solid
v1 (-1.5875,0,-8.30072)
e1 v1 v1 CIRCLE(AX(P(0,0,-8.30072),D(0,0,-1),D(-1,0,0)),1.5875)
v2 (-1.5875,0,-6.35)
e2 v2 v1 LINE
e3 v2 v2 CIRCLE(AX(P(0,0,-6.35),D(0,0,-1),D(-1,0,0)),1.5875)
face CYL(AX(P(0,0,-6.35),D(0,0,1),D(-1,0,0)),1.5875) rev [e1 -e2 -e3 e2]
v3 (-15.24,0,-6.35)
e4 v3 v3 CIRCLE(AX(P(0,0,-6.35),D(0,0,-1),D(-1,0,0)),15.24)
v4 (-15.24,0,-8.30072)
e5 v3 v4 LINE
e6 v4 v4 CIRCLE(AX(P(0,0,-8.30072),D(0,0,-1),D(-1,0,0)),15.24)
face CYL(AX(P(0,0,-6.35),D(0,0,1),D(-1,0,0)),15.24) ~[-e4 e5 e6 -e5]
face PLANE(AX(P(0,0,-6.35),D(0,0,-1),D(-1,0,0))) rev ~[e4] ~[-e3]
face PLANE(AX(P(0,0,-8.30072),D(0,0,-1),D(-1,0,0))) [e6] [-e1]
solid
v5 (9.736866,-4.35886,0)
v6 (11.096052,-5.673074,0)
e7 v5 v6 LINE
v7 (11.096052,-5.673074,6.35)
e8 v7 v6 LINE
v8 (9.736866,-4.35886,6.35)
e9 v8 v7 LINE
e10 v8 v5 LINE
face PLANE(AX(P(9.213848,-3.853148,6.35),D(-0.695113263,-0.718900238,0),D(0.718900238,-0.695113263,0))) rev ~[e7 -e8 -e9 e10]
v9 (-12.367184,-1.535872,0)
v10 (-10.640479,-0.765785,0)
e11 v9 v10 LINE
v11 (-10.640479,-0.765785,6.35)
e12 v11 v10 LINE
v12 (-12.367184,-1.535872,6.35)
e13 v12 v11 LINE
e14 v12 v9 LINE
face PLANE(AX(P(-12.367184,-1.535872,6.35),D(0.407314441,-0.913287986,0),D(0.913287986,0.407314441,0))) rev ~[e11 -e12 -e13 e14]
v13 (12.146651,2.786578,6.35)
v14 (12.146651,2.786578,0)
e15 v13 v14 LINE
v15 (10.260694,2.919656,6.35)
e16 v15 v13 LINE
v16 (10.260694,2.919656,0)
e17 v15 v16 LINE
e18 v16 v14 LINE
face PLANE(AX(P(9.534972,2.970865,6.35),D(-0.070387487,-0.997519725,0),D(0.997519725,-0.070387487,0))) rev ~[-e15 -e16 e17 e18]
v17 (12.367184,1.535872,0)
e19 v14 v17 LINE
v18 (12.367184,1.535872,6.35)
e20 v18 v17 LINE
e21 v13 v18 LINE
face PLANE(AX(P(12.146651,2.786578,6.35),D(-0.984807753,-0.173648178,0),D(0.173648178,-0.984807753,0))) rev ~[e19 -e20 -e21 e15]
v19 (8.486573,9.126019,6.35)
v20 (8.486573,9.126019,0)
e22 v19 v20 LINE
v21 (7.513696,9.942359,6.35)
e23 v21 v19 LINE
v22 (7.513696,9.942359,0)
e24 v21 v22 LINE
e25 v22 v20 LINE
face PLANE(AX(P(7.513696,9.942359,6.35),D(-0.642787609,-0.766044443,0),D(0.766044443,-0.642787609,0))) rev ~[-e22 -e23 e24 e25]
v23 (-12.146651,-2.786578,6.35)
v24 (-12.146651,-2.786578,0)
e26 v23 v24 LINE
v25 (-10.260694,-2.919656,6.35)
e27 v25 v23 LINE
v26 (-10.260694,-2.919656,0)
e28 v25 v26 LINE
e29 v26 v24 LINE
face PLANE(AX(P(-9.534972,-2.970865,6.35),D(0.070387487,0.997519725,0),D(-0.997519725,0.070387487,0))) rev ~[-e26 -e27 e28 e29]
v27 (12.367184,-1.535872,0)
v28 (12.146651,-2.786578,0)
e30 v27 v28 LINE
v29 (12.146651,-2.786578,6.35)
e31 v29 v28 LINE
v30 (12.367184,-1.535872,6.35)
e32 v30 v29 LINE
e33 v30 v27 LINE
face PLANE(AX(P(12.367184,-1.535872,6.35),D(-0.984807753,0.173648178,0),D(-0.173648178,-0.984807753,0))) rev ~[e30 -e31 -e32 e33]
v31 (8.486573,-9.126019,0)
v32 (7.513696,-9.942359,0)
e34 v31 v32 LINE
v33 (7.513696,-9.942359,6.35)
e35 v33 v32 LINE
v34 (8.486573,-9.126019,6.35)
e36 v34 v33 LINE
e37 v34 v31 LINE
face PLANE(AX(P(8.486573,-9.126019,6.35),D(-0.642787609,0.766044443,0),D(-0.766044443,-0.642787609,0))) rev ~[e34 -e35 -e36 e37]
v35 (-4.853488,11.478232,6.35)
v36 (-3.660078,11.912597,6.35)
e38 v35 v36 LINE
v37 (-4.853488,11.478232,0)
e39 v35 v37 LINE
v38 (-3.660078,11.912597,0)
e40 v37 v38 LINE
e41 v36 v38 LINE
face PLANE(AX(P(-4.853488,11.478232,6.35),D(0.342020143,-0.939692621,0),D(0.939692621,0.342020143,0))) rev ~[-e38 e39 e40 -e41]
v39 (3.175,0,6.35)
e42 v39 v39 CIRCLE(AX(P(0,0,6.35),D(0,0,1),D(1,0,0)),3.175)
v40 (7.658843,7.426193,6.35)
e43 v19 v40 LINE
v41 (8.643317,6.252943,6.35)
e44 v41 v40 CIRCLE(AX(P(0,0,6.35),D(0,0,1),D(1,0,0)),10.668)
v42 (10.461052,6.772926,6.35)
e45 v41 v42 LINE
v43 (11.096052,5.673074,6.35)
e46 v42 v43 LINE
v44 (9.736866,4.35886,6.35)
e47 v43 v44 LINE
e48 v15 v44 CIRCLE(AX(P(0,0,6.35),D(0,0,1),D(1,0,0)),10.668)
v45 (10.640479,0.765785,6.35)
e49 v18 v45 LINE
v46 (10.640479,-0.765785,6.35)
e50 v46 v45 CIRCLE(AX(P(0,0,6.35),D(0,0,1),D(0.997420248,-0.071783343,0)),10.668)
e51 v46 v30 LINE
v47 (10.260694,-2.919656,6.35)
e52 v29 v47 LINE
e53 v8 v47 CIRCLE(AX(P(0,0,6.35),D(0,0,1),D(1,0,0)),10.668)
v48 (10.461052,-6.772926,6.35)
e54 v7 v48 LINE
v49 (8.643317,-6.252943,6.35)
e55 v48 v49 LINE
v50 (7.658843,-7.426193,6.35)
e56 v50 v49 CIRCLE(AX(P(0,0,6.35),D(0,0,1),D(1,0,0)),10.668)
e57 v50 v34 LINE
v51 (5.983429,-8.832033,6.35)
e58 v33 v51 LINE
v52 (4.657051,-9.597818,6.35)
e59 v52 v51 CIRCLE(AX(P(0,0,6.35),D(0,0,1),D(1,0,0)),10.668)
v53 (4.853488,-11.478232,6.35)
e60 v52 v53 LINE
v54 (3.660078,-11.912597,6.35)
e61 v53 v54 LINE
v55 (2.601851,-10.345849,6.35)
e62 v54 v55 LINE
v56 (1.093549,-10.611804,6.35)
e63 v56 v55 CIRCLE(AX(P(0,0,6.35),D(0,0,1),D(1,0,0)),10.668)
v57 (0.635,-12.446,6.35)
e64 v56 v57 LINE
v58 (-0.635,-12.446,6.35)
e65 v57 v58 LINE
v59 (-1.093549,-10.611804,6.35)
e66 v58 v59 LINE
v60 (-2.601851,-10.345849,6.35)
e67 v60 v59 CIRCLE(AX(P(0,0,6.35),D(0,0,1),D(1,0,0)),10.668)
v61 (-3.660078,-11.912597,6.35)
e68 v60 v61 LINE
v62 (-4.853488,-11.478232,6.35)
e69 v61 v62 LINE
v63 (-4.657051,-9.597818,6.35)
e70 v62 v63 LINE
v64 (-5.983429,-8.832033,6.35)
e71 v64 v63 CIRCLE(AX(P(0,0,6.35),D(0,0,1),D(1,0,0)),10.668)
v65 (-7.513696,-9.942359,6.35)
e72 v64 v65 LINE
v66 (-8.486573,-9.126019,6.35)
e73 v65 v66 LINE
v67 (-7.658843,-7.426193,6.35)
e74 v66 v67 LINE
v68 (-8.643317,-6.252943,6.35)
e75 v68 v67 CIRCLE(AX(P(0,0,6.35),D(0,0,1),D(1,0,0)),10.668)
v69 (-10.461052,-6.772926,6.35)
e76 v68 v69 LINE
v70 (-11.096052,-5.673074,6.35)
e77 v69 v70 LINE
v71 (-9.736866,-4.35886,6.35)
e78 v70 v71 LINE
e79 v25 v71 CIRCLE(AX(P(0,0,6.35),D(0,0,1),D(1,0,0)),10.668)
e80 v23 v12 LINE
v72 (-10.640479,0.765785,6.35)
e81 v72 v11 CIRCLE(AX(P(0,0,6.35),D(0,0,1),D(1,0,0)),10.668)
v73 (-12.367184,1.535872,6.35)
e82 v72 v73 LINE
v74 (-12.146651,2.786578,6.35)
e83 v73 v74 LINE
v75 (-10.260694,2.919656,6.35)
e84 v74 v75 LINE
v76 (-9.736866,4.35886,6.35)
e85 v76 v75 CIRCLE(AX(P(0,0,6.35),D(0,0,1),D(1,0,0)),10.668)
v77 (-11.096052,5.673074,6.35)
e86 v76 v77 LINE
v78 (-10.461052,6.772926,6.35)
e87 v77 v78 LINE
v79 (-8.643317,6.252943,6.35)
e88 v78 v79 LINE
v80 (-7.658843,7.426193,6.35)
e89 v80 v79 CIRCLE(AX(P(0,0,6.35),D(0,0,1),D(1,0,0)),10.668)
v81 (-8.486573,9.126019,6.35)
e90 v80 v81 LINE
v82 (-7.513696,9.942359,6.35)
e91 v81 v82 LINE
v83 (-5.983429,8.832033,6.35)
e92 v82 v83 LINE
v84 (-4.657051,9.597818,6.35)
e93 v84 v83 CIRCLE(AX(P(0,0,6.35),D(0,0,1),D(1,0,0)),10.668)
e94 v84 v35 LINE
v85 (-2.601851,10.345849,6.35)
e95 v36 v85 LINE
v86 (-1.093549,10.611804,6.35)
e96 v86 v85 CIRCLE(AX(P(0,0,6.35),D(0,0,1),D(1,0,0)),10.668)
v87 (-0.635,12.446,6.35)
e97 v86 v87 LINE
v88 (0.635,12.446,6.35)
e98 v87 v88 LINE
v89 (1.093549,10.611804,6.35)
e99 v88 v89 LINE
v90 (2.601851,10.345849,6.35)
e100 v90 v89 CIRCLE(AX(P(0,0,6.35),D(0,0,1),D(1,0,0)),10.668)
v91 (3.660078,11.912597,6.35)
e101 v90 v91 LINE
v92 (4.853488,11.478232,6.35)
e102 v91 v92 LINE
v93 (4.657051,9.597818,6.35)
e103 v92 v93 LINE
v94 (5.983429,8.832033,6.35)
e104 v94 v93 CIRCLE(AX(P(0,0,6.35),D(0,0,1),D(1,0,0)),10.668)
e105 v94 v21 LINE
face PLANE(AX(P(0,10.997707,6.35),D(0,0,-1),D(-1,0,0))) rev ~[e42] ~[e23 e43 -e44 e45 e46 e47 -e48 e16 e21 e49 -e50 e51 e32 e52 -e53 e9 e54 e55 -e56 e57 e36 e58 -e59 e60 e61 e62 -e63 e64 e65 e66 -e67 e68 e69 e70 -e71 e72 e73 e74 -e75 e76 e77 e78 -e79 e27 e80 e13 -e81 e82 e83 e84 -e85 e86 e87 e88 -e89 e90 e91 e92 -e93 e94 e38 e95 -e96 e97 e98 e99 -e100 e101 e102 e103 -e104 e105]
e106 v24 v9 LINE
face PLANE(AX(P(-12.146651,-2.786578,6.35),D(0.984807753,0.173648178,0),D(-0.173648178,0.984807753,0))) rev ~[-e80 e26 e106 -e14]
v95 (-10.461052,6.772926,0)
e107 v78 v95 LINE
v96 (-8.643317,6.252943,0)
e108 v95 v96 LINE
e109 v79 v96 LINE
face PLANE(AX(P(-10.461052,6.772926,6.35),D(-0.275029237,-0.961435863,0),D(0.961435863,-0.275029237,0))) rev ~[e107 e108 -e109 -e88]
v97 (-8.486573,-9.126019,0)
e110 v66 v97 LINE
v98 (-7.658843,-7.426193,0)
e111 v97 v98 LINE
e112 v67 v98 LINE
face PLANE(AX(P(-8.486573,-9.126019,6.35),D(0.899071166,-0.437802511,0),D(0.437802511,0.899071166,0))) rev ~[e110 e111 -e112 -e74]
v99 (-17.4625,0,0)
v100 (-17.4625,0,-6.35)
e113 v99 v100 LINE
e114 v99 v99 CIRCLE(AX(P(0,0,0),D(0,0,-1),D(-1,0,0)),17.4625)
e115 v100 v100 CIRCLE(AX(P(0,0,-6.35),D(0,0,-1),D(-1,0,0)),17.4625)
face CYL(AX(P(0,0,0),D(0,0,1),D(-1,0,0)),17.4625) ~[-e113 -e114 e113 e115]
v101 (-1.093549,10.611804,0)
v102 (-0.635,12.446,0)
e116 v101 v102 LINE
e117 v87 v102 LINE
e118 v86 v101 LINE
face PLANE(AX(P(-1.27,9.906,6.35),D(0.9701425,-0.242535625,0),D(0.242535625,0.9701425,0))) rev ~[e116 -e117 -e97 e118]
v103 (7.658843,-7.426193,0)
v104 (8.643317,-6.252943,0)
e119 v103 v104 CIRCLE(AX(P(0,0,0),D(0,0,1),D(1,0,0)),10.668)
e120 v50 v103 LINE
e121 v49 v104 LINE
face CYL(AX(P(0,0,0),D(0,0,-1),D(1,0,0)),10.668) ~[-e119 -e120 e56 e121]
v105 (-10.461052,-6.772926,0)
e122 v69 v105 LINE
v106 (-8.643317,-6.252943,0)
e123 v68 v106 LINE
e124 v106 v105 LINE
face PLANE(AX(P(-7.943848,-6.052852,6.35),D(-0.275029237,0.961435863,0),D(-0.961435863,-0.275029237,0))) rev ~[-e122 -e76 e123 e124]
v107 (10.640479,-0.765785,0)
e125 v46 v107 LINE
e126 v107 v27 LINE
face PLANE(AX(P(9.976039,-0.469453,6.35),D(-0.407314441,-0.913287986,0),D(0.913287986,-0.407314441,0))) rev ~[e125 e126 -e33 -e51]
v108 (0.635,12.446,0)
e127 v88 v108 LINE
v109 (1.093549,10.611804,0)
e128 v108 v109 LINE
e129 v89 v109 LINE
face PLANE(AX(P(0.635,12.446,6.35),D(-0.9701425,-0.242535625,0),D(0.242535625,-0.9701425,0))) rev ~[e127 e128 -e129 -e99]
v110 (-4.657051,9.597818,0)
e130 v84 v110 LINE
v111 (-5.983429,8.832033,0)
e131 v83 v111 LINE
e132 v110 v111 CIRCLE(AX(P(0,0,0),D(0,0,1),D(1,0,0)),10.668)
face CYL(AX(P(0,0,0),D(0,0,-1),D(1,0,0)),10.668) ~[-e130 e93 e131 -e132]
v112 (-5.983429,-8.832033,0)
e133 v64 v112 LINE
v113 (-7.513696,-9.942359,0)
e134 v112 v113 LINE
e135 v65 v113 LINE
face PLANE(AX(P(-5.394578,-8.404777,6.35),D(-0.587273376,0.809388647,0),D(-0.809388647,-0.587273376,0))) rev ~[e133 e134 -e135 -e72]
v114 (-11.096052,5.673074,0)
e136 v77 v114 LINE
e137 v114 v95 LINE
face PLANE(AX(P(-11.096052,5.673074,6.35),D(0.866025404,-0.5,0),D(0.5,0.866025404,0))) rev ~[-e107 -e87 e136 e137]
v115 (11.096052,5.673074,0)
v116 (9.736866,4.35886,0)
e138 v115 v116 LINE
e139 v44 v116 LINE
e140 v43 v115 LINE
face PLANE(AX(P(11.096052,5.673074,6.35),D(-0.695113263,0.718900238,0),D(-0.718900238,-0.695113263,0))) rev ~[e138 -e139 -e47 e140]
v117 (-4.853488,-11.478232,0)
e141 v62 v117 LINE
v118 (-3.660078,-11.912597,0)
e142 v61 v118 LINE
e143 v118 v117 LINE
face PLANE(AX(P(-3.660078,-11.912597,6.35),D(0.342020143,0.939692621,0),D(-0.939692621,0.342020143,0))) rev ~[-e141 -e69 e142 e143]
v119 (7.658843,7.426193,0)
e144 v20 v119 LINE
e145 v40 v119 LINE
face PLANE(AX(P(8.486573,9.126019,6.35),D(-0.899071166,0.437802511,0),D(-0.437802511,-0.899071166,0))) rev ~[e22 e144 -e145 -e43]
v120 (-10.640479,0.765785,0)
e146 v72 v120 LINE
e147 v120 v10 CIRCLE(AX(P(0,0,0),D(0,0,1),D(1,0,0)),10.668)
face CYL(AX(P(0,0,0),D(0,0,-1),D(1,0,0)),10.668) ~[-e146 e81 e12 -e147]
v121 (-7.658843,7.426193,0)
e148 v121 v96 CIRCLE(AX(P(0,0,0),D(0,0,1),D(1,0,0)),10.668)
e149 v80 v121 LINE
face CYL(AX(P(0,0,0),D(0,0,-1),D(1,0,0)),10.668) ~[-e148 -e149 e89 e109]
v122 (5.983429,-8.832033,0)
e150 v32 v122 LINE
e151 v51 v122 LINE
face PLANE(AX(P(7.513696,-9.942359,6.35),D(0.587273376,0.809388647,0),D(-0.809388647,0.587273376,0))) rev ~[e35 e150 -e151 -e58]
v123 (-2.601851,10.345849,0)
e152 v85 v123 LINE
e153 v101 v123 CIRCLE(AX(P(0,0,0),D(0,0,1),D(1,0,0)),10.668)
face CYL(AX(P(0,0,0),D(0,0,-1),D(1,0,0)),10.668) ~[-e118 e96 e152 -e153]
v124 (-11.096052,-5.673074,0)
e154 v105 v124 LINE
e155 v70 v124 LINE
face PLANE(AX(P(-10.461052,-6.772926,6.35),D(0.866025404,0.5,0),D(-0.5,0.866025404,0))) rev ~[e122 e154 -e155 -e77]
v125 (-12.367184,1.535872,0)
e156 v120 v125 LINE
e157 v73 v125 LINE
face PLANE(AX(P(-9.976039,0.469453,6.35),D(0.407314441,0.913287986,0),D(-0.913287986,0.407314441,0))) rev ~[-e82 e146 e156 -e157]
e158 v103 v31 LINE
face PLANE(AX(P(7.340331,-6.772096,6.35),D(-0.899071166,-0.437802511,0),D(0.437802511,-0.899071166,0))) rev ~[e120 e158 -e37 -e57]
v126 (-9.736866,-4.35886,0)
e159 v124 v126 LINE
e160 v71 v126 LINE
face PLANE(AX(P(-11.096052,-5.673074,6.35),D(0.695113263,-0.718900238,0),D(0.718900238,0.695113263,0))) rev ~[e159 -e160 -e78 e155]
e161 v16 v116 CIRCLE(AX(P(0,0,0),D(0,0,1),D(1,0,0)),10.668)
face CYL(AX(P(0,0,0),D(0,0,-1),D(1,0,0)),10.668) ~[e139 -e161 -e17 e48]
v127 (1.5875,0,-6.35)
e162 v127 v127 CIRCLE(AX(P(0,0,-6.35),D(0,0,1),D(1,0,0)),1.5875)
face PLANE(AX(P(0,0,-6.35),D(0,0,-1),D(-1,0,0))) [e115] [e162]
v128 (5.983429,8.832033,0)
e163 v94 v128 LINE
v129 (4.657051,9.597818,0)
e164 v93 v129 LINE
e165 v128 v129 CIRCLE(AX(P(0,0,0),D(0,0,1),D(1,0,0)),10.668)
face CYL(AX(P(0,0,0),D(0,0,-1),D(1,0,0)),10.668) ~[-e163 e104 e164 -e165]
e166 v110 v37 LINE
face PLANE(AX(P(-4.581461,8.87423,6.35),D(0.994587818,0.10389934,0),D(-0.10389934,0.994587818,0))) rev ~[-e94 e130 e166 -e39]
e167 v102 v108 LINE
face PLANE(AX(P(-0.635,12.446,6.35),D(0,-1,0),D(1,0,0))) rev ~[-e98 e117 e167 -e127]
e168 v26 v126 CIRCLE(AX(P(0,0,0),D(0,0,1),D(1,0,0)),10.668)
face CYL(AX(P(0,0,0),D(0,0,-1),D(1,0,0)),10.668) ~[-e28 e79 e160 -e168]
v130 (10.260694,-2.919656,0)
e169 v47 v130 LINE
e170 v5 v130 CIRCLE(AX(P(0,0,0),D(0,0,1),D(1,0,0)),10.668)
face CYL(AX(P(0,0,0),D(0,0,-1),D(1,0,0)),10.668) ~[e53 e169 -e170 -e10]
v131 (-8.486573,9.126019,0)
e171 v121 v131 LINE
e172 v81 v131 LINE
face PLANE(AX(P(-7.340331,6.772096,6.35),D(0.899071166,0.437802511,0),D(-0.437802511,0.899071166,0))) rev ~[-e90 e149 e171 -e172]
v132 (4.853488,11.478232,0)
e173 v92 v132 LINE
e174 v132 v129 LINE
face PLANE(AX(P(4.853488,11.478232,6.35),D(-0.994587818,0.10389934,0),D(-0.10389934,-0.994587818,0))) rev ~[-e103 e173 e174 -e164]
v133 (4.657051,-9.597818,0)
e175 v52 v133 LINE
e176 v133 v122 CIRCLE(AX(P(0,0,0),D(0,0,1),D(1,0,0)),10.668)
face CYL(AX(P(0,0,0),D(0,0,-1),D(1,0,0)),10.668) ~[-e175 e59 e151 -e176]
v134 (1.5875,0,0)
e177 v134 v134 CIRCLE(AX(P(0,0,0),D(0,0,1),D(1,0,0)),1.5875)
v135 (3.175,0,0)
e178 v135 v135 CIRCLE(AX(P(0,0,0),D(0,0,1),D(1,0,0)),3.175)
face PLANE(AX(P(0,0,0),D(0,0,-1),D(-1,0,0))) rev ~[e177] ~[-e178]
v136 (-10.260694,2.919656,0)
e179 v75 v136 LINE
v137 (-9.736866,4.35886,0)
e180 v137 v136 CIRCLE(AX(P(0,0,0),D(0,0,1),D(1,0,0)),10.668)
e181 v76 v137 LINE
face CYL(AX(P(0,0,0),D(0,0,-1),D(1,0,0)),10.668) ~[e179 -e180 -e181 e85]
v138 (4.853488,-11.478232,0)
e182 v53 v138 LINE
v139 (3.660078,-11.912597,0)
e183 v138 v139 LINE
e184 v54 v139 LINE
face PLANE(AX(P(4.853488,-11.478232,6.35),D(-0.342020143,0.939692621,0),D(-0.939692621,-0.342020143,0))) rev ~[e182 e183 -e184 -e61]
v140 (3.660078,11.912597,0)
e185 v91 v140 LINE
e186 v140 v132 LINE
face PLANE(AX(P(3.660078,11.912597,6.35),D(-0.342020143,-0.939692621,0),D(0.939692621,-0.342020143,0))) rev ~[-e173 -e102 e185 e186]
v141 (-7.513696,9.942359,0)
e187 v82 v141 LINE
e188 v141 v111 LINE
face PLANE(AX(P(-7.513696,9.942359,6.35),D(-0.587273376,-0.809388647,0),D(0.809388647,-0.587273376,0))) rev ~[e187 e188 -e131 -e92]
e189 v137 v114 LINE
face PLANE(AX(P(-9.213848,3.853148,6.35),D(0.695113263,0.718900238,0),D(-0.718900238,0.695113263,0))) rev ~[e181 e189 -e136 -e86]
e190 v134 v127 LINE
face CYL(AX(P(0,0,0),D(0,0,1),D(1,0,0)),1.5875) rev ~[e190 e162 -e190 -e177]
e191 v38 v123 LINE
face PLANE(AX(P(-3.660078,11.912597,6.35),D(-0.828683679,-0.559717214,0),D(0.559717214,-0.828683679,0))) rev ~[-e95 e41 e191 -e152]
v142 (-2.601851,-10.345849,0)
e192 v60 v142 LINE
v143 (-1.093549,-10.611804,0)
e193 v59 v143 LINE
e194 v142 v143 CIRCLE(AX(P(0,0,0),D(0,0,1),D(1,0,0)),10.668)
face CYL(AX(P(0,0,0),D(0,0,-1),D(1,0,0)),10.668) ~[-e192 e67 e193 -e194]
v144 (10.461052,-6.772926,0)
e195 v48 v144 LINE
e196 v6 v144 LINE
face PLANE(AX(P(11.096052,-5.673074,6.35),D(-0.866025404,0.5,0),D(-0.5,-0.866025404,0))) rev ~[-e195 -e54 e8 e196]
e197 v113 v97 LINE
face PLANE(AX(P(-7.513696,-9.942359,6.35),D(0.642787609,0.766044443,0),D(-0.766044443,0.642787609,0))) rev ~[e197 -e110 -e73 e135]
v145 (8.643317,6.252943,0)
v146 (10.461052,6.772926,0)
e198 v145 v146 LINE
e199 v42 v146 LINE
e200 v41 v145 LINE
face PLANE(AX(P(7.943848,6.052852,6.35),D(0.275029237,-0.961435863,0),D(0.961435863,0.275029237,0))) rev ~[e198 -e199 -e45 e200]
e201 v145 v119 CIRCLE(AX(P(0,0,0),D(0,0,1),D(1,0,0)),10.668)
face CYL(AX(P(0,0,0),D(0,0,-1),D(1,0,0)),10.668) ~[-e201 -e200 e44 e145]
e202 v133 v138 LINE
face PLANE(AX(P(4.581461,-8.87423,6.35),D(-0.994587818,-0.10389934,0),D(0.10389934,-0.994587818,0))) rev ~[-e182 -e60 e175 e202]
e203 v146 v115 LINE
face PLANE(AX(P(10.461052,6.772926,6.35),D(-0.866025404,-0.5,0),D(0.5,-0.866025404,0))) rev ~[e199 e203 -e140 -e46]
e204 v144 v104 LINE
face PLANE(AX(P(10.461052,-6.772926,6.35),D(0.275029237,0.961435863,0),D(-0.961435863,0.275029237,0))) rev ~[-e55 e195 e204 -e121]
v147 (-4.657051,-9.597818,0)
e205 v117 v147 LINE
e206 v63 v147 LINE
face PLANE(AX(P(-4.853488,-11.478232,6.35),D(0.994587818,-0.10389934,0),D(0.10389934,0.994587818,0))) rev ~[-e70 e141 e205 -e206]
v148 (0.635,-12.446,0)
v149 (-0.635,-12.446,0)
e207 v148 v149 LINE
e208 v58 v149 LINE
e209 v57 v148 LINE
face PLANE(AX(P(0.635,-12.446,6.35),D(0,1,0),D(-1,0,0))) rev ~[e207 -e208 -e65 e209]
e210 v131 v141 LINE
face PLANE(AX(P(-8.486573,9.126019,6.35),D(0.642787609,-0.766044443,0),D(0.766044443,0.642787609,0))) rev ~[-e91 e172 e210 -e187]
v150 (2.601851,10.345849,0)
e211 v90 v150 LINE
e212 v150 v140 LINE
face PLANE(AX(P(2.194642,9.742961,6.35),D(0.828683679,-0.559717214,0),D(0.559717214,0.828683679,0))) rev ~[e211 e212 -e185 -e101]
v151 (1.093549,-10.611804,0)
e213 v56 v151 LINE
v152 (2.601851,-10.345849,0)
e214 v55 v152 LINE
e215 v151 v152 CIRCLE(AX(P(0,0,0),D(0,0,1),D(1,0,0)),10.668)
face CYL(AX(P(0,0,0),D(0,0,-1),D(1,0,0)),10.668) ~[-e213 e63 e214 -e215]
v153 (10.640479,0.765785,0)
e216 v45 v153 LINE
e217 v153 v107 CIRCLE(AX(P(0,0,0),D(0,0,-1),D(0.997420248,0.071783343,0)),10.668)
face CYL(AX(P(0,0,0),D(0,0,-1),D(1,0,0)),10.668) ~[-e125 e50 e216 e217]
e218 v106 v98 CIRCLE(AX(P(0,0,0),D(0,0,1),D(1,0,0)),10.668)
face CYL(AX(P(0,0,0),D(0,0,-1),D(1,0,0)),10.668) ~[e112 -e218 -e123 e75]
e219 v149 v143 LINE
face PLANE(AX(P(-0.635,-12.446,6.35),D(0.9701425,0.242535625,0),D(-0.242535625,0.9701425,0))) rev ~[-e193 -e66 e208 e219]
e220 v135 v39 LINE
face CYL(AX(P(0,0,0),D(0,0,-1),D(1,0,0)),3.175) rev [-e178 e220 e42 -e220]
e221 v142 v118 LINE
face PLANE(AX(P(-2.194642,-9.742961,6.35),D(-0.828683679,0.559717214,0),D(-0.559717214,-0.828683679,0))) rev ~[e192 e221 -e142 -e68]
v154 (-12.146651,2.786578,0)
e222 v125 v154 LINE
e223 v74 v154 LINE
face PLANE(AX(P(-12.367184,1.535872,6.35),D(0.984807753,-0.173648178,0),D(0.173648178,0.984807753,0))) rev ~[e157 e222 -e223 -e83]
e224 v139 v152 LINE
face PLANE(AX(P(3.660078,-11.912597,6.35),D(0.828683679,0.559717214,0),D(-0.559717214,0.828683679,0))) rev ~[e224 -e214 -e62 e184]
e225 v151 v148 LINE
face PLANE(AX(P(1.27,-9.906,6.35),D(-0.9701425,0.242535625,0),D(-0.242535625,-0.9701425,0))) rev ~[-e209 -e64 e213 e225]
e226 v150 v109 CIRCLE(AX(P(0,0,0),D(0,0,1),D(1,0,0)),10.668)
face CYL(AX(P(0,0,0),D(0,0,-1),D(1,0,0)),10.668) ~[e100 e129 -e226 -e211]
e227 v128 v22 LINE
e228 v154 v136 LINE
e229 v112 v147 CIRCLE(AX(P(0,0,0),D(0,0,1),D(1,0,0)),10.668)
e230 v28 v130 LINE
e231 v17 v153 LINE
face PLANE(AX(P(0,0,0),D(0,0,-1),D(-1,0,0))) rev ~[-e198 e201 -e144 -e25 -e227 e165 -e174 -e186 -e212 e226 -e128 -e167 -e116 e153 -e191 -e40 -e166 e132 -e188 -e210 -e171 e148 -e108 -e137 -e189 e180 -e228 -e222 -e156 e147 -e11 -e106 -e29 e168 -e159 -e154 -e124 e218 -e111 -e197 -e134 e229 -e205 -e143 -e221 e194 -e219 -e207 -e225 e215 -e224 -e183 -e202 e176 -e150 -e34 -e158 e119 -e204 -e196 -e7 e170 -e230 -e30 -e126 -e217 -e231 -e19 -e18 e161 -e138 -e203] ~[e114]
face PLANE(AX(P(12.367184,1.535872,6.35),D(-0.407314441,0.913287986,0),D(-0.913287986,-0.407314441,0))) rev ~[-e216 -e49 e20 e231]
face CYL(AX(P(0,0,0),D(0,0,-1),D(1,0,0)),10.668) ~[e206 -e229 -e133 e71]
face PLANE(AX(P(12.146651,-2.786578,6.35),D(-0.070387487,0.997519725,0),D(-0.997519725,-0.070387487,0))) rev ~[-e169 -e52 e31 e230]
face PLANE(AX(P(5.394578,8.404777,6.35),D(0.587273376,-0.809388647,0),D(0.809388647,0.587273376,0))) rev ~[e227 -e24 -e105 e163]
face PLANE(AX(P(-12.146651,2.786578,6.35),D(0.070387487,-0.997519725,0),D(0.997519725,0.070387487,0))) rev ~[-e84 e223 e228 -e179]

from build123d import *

# Parameters (mm, degrees)
SKETCH1_R           = 10.668
SKETCH1_R_2         = 3.175
BOSS_EXTRUDE1_DEPTH = 6.35
BOSS_EXTRUDE2_DEPTH = 6.35
SKETCH3_R           = 17.4625
BOSS_EXTRUDE3_DEPTH = 6.35
SKETCH4_R           = 1.5875
CUT_EXTRUDE1_DEPTH  = 6.35
SKETCH5_R           = 15.24
SKETCH5_R_2         = 1.5875
BOSS_EXTRUDE4_DEPTH = 1.95072


with BuildPart() as part:
    # Sketch1 → Boss-Extrude1 (new body)
    with BuildSketch(Plane.XY):
        Circle(SKETCH1_R)
        Circle(SKETCH1_R_2, mode=Mode.SUBTRACT)
    extrude(amount=BOSS_EXTRUDE1_DEPTH)

    # Sketch2 → Boss-Extrude2 (add)
    with BuildSketch(Plane.XY.offset(6.35)):
        Polygon((-0.635, 12.446), (0.635, 12.446), (1.27, 9.906), (-1.27, 9.906), align=None)
        Polygon((4.853487518, 11.478231567), (4.581461168, 8.874229519), (2.194641911, 9.742960684), (3.66007789, 11.912597149), align=None)
        Polygon((8.486572812, 9.126019007), (7.340330504, 6.772095989), (5.394577619, 8.404776518), (7.513696369, 9.942359271), align=None)
        Polygon((11.096052176, 5.673073869), (9.21384765, 3.853147737), (7.94384765, 6.052852263), (10.461052176, 6.772926131), align=None)
        Polygon((12.367183887, 1.535872296), (9.976038787, 0.469453002), (9.534972416, 2.970864694), (12.146650701, 2.786578142), align=None)
        Polygon((12.146650701, -2.786578142), (9.534972416, -2.970864694), (9.976038787, -0.469453002), (12.367183887, -1.535872296), align=None)
        Polygon((10.461052176, -6.772926131), (7.94384765, -6.052852263), (9.21384765, -3.853147737), (11.096052176, -5.673073869), align=None)
        Polygon((7.513696369, -9.942359271), (5.394577619, -8.404776518), (7.340330504, -6.772095989), (8.486572812, -9.126019007), align=None)
        Polygon((3.66007789, -11.912597149), (2.194641911, -9.742960684), (4.581461168, -8.874229519), (4.853487518, -11.478231567), align=None)
        Polygon((-0.635, -12.446), (-1.27, -9.906), (1.27, -9.906), (0.635, -12.446), align=None)
        Polygon((-4.853487518, -11.478231567), (-4.581461168, -8.874229519), (-2.194641911, -9.742960684), (-3.66007789, -11.912597149), align=None)
        Polygon((-8.486572812, -9.126019007), (-7.340330504, -6.772095989), (-5.394577619, -8.404776518), (-7.513696369, -9.942359271), align=None)
        Polygon((-11.096052175, -5.673073869), (-9.21384765, -3.853147737), (-7.94384765, -6.052852263), (-10.461052175, -6.772926131), align=None)
        Polygon((-12.367183887, -1.535872296), (-9.976038787, -0.469453002), (-9.534972416, -2.970864694), (-12.146650701, -2.786578142), align=None)
        Polygon((-12.146650701, 2.786578142), (-9.534972416, 2.970864694), (-9.976038787, 0.469453002), (-12.367183887, 1.535872296), align=None)
        Polygon((-10.461052175, 6.772926131), (-7.94384765, 6.052852263), (-9.21384765, 3.853147737), (-11.096052175, 5.673073869), align=None)
        Polygon((-7.513696369, 9.942359271), (-5.394577619, 8.404776518), (-7.340330504, 6.772095989), (-8.486572812, 9.126019007), align=None)
        Polygon((-3.66007789, 11.912597149), (-2.194641911, 9.742960684), (-4.581461168, 8.874229519), (-4.853487518, 11.478231567), align=None)
    extrude(amount=-BOSS_EXTRUDE2_DEPTH)

    # Sketch3 → Boss-Extrude3 (add)
    with BuildSketch(Plane(origin=(0, 0, 0), x_dir=(-1, 0, 0), z_dir=(0, 0, -1))):
        Circle(SKETCH3_R)
    extrude(amount=BOSS_EXTRUDE3_DEPTH)

    # Sketch4 → Cut-Extrude1 (cut)
    with BuildSketch(Plane.XY):
        Circle(SKETCH4_R)
    extrude(amount=-CUT_EXTRUDE1_DEPTH, mode=Mode.SUBTRACT)


with BuildPart() as body_2:
    # Sketch5 → Boss-Extrude4 (new body)
    with BuildSketch(Plane(origin=(0, 0, -6.35), x_dir=(-1, 0, 0), z_dir=(0, 0, -1))):
        Circle(SKETCH5_R)
        Circle(SKETCH5_R_2, mode=Mode.SUBTRACT)
    extrude(amount=BOSS_EXTRUDE4_DEPTH)


solid = Compound([part.part, body_2.part])
